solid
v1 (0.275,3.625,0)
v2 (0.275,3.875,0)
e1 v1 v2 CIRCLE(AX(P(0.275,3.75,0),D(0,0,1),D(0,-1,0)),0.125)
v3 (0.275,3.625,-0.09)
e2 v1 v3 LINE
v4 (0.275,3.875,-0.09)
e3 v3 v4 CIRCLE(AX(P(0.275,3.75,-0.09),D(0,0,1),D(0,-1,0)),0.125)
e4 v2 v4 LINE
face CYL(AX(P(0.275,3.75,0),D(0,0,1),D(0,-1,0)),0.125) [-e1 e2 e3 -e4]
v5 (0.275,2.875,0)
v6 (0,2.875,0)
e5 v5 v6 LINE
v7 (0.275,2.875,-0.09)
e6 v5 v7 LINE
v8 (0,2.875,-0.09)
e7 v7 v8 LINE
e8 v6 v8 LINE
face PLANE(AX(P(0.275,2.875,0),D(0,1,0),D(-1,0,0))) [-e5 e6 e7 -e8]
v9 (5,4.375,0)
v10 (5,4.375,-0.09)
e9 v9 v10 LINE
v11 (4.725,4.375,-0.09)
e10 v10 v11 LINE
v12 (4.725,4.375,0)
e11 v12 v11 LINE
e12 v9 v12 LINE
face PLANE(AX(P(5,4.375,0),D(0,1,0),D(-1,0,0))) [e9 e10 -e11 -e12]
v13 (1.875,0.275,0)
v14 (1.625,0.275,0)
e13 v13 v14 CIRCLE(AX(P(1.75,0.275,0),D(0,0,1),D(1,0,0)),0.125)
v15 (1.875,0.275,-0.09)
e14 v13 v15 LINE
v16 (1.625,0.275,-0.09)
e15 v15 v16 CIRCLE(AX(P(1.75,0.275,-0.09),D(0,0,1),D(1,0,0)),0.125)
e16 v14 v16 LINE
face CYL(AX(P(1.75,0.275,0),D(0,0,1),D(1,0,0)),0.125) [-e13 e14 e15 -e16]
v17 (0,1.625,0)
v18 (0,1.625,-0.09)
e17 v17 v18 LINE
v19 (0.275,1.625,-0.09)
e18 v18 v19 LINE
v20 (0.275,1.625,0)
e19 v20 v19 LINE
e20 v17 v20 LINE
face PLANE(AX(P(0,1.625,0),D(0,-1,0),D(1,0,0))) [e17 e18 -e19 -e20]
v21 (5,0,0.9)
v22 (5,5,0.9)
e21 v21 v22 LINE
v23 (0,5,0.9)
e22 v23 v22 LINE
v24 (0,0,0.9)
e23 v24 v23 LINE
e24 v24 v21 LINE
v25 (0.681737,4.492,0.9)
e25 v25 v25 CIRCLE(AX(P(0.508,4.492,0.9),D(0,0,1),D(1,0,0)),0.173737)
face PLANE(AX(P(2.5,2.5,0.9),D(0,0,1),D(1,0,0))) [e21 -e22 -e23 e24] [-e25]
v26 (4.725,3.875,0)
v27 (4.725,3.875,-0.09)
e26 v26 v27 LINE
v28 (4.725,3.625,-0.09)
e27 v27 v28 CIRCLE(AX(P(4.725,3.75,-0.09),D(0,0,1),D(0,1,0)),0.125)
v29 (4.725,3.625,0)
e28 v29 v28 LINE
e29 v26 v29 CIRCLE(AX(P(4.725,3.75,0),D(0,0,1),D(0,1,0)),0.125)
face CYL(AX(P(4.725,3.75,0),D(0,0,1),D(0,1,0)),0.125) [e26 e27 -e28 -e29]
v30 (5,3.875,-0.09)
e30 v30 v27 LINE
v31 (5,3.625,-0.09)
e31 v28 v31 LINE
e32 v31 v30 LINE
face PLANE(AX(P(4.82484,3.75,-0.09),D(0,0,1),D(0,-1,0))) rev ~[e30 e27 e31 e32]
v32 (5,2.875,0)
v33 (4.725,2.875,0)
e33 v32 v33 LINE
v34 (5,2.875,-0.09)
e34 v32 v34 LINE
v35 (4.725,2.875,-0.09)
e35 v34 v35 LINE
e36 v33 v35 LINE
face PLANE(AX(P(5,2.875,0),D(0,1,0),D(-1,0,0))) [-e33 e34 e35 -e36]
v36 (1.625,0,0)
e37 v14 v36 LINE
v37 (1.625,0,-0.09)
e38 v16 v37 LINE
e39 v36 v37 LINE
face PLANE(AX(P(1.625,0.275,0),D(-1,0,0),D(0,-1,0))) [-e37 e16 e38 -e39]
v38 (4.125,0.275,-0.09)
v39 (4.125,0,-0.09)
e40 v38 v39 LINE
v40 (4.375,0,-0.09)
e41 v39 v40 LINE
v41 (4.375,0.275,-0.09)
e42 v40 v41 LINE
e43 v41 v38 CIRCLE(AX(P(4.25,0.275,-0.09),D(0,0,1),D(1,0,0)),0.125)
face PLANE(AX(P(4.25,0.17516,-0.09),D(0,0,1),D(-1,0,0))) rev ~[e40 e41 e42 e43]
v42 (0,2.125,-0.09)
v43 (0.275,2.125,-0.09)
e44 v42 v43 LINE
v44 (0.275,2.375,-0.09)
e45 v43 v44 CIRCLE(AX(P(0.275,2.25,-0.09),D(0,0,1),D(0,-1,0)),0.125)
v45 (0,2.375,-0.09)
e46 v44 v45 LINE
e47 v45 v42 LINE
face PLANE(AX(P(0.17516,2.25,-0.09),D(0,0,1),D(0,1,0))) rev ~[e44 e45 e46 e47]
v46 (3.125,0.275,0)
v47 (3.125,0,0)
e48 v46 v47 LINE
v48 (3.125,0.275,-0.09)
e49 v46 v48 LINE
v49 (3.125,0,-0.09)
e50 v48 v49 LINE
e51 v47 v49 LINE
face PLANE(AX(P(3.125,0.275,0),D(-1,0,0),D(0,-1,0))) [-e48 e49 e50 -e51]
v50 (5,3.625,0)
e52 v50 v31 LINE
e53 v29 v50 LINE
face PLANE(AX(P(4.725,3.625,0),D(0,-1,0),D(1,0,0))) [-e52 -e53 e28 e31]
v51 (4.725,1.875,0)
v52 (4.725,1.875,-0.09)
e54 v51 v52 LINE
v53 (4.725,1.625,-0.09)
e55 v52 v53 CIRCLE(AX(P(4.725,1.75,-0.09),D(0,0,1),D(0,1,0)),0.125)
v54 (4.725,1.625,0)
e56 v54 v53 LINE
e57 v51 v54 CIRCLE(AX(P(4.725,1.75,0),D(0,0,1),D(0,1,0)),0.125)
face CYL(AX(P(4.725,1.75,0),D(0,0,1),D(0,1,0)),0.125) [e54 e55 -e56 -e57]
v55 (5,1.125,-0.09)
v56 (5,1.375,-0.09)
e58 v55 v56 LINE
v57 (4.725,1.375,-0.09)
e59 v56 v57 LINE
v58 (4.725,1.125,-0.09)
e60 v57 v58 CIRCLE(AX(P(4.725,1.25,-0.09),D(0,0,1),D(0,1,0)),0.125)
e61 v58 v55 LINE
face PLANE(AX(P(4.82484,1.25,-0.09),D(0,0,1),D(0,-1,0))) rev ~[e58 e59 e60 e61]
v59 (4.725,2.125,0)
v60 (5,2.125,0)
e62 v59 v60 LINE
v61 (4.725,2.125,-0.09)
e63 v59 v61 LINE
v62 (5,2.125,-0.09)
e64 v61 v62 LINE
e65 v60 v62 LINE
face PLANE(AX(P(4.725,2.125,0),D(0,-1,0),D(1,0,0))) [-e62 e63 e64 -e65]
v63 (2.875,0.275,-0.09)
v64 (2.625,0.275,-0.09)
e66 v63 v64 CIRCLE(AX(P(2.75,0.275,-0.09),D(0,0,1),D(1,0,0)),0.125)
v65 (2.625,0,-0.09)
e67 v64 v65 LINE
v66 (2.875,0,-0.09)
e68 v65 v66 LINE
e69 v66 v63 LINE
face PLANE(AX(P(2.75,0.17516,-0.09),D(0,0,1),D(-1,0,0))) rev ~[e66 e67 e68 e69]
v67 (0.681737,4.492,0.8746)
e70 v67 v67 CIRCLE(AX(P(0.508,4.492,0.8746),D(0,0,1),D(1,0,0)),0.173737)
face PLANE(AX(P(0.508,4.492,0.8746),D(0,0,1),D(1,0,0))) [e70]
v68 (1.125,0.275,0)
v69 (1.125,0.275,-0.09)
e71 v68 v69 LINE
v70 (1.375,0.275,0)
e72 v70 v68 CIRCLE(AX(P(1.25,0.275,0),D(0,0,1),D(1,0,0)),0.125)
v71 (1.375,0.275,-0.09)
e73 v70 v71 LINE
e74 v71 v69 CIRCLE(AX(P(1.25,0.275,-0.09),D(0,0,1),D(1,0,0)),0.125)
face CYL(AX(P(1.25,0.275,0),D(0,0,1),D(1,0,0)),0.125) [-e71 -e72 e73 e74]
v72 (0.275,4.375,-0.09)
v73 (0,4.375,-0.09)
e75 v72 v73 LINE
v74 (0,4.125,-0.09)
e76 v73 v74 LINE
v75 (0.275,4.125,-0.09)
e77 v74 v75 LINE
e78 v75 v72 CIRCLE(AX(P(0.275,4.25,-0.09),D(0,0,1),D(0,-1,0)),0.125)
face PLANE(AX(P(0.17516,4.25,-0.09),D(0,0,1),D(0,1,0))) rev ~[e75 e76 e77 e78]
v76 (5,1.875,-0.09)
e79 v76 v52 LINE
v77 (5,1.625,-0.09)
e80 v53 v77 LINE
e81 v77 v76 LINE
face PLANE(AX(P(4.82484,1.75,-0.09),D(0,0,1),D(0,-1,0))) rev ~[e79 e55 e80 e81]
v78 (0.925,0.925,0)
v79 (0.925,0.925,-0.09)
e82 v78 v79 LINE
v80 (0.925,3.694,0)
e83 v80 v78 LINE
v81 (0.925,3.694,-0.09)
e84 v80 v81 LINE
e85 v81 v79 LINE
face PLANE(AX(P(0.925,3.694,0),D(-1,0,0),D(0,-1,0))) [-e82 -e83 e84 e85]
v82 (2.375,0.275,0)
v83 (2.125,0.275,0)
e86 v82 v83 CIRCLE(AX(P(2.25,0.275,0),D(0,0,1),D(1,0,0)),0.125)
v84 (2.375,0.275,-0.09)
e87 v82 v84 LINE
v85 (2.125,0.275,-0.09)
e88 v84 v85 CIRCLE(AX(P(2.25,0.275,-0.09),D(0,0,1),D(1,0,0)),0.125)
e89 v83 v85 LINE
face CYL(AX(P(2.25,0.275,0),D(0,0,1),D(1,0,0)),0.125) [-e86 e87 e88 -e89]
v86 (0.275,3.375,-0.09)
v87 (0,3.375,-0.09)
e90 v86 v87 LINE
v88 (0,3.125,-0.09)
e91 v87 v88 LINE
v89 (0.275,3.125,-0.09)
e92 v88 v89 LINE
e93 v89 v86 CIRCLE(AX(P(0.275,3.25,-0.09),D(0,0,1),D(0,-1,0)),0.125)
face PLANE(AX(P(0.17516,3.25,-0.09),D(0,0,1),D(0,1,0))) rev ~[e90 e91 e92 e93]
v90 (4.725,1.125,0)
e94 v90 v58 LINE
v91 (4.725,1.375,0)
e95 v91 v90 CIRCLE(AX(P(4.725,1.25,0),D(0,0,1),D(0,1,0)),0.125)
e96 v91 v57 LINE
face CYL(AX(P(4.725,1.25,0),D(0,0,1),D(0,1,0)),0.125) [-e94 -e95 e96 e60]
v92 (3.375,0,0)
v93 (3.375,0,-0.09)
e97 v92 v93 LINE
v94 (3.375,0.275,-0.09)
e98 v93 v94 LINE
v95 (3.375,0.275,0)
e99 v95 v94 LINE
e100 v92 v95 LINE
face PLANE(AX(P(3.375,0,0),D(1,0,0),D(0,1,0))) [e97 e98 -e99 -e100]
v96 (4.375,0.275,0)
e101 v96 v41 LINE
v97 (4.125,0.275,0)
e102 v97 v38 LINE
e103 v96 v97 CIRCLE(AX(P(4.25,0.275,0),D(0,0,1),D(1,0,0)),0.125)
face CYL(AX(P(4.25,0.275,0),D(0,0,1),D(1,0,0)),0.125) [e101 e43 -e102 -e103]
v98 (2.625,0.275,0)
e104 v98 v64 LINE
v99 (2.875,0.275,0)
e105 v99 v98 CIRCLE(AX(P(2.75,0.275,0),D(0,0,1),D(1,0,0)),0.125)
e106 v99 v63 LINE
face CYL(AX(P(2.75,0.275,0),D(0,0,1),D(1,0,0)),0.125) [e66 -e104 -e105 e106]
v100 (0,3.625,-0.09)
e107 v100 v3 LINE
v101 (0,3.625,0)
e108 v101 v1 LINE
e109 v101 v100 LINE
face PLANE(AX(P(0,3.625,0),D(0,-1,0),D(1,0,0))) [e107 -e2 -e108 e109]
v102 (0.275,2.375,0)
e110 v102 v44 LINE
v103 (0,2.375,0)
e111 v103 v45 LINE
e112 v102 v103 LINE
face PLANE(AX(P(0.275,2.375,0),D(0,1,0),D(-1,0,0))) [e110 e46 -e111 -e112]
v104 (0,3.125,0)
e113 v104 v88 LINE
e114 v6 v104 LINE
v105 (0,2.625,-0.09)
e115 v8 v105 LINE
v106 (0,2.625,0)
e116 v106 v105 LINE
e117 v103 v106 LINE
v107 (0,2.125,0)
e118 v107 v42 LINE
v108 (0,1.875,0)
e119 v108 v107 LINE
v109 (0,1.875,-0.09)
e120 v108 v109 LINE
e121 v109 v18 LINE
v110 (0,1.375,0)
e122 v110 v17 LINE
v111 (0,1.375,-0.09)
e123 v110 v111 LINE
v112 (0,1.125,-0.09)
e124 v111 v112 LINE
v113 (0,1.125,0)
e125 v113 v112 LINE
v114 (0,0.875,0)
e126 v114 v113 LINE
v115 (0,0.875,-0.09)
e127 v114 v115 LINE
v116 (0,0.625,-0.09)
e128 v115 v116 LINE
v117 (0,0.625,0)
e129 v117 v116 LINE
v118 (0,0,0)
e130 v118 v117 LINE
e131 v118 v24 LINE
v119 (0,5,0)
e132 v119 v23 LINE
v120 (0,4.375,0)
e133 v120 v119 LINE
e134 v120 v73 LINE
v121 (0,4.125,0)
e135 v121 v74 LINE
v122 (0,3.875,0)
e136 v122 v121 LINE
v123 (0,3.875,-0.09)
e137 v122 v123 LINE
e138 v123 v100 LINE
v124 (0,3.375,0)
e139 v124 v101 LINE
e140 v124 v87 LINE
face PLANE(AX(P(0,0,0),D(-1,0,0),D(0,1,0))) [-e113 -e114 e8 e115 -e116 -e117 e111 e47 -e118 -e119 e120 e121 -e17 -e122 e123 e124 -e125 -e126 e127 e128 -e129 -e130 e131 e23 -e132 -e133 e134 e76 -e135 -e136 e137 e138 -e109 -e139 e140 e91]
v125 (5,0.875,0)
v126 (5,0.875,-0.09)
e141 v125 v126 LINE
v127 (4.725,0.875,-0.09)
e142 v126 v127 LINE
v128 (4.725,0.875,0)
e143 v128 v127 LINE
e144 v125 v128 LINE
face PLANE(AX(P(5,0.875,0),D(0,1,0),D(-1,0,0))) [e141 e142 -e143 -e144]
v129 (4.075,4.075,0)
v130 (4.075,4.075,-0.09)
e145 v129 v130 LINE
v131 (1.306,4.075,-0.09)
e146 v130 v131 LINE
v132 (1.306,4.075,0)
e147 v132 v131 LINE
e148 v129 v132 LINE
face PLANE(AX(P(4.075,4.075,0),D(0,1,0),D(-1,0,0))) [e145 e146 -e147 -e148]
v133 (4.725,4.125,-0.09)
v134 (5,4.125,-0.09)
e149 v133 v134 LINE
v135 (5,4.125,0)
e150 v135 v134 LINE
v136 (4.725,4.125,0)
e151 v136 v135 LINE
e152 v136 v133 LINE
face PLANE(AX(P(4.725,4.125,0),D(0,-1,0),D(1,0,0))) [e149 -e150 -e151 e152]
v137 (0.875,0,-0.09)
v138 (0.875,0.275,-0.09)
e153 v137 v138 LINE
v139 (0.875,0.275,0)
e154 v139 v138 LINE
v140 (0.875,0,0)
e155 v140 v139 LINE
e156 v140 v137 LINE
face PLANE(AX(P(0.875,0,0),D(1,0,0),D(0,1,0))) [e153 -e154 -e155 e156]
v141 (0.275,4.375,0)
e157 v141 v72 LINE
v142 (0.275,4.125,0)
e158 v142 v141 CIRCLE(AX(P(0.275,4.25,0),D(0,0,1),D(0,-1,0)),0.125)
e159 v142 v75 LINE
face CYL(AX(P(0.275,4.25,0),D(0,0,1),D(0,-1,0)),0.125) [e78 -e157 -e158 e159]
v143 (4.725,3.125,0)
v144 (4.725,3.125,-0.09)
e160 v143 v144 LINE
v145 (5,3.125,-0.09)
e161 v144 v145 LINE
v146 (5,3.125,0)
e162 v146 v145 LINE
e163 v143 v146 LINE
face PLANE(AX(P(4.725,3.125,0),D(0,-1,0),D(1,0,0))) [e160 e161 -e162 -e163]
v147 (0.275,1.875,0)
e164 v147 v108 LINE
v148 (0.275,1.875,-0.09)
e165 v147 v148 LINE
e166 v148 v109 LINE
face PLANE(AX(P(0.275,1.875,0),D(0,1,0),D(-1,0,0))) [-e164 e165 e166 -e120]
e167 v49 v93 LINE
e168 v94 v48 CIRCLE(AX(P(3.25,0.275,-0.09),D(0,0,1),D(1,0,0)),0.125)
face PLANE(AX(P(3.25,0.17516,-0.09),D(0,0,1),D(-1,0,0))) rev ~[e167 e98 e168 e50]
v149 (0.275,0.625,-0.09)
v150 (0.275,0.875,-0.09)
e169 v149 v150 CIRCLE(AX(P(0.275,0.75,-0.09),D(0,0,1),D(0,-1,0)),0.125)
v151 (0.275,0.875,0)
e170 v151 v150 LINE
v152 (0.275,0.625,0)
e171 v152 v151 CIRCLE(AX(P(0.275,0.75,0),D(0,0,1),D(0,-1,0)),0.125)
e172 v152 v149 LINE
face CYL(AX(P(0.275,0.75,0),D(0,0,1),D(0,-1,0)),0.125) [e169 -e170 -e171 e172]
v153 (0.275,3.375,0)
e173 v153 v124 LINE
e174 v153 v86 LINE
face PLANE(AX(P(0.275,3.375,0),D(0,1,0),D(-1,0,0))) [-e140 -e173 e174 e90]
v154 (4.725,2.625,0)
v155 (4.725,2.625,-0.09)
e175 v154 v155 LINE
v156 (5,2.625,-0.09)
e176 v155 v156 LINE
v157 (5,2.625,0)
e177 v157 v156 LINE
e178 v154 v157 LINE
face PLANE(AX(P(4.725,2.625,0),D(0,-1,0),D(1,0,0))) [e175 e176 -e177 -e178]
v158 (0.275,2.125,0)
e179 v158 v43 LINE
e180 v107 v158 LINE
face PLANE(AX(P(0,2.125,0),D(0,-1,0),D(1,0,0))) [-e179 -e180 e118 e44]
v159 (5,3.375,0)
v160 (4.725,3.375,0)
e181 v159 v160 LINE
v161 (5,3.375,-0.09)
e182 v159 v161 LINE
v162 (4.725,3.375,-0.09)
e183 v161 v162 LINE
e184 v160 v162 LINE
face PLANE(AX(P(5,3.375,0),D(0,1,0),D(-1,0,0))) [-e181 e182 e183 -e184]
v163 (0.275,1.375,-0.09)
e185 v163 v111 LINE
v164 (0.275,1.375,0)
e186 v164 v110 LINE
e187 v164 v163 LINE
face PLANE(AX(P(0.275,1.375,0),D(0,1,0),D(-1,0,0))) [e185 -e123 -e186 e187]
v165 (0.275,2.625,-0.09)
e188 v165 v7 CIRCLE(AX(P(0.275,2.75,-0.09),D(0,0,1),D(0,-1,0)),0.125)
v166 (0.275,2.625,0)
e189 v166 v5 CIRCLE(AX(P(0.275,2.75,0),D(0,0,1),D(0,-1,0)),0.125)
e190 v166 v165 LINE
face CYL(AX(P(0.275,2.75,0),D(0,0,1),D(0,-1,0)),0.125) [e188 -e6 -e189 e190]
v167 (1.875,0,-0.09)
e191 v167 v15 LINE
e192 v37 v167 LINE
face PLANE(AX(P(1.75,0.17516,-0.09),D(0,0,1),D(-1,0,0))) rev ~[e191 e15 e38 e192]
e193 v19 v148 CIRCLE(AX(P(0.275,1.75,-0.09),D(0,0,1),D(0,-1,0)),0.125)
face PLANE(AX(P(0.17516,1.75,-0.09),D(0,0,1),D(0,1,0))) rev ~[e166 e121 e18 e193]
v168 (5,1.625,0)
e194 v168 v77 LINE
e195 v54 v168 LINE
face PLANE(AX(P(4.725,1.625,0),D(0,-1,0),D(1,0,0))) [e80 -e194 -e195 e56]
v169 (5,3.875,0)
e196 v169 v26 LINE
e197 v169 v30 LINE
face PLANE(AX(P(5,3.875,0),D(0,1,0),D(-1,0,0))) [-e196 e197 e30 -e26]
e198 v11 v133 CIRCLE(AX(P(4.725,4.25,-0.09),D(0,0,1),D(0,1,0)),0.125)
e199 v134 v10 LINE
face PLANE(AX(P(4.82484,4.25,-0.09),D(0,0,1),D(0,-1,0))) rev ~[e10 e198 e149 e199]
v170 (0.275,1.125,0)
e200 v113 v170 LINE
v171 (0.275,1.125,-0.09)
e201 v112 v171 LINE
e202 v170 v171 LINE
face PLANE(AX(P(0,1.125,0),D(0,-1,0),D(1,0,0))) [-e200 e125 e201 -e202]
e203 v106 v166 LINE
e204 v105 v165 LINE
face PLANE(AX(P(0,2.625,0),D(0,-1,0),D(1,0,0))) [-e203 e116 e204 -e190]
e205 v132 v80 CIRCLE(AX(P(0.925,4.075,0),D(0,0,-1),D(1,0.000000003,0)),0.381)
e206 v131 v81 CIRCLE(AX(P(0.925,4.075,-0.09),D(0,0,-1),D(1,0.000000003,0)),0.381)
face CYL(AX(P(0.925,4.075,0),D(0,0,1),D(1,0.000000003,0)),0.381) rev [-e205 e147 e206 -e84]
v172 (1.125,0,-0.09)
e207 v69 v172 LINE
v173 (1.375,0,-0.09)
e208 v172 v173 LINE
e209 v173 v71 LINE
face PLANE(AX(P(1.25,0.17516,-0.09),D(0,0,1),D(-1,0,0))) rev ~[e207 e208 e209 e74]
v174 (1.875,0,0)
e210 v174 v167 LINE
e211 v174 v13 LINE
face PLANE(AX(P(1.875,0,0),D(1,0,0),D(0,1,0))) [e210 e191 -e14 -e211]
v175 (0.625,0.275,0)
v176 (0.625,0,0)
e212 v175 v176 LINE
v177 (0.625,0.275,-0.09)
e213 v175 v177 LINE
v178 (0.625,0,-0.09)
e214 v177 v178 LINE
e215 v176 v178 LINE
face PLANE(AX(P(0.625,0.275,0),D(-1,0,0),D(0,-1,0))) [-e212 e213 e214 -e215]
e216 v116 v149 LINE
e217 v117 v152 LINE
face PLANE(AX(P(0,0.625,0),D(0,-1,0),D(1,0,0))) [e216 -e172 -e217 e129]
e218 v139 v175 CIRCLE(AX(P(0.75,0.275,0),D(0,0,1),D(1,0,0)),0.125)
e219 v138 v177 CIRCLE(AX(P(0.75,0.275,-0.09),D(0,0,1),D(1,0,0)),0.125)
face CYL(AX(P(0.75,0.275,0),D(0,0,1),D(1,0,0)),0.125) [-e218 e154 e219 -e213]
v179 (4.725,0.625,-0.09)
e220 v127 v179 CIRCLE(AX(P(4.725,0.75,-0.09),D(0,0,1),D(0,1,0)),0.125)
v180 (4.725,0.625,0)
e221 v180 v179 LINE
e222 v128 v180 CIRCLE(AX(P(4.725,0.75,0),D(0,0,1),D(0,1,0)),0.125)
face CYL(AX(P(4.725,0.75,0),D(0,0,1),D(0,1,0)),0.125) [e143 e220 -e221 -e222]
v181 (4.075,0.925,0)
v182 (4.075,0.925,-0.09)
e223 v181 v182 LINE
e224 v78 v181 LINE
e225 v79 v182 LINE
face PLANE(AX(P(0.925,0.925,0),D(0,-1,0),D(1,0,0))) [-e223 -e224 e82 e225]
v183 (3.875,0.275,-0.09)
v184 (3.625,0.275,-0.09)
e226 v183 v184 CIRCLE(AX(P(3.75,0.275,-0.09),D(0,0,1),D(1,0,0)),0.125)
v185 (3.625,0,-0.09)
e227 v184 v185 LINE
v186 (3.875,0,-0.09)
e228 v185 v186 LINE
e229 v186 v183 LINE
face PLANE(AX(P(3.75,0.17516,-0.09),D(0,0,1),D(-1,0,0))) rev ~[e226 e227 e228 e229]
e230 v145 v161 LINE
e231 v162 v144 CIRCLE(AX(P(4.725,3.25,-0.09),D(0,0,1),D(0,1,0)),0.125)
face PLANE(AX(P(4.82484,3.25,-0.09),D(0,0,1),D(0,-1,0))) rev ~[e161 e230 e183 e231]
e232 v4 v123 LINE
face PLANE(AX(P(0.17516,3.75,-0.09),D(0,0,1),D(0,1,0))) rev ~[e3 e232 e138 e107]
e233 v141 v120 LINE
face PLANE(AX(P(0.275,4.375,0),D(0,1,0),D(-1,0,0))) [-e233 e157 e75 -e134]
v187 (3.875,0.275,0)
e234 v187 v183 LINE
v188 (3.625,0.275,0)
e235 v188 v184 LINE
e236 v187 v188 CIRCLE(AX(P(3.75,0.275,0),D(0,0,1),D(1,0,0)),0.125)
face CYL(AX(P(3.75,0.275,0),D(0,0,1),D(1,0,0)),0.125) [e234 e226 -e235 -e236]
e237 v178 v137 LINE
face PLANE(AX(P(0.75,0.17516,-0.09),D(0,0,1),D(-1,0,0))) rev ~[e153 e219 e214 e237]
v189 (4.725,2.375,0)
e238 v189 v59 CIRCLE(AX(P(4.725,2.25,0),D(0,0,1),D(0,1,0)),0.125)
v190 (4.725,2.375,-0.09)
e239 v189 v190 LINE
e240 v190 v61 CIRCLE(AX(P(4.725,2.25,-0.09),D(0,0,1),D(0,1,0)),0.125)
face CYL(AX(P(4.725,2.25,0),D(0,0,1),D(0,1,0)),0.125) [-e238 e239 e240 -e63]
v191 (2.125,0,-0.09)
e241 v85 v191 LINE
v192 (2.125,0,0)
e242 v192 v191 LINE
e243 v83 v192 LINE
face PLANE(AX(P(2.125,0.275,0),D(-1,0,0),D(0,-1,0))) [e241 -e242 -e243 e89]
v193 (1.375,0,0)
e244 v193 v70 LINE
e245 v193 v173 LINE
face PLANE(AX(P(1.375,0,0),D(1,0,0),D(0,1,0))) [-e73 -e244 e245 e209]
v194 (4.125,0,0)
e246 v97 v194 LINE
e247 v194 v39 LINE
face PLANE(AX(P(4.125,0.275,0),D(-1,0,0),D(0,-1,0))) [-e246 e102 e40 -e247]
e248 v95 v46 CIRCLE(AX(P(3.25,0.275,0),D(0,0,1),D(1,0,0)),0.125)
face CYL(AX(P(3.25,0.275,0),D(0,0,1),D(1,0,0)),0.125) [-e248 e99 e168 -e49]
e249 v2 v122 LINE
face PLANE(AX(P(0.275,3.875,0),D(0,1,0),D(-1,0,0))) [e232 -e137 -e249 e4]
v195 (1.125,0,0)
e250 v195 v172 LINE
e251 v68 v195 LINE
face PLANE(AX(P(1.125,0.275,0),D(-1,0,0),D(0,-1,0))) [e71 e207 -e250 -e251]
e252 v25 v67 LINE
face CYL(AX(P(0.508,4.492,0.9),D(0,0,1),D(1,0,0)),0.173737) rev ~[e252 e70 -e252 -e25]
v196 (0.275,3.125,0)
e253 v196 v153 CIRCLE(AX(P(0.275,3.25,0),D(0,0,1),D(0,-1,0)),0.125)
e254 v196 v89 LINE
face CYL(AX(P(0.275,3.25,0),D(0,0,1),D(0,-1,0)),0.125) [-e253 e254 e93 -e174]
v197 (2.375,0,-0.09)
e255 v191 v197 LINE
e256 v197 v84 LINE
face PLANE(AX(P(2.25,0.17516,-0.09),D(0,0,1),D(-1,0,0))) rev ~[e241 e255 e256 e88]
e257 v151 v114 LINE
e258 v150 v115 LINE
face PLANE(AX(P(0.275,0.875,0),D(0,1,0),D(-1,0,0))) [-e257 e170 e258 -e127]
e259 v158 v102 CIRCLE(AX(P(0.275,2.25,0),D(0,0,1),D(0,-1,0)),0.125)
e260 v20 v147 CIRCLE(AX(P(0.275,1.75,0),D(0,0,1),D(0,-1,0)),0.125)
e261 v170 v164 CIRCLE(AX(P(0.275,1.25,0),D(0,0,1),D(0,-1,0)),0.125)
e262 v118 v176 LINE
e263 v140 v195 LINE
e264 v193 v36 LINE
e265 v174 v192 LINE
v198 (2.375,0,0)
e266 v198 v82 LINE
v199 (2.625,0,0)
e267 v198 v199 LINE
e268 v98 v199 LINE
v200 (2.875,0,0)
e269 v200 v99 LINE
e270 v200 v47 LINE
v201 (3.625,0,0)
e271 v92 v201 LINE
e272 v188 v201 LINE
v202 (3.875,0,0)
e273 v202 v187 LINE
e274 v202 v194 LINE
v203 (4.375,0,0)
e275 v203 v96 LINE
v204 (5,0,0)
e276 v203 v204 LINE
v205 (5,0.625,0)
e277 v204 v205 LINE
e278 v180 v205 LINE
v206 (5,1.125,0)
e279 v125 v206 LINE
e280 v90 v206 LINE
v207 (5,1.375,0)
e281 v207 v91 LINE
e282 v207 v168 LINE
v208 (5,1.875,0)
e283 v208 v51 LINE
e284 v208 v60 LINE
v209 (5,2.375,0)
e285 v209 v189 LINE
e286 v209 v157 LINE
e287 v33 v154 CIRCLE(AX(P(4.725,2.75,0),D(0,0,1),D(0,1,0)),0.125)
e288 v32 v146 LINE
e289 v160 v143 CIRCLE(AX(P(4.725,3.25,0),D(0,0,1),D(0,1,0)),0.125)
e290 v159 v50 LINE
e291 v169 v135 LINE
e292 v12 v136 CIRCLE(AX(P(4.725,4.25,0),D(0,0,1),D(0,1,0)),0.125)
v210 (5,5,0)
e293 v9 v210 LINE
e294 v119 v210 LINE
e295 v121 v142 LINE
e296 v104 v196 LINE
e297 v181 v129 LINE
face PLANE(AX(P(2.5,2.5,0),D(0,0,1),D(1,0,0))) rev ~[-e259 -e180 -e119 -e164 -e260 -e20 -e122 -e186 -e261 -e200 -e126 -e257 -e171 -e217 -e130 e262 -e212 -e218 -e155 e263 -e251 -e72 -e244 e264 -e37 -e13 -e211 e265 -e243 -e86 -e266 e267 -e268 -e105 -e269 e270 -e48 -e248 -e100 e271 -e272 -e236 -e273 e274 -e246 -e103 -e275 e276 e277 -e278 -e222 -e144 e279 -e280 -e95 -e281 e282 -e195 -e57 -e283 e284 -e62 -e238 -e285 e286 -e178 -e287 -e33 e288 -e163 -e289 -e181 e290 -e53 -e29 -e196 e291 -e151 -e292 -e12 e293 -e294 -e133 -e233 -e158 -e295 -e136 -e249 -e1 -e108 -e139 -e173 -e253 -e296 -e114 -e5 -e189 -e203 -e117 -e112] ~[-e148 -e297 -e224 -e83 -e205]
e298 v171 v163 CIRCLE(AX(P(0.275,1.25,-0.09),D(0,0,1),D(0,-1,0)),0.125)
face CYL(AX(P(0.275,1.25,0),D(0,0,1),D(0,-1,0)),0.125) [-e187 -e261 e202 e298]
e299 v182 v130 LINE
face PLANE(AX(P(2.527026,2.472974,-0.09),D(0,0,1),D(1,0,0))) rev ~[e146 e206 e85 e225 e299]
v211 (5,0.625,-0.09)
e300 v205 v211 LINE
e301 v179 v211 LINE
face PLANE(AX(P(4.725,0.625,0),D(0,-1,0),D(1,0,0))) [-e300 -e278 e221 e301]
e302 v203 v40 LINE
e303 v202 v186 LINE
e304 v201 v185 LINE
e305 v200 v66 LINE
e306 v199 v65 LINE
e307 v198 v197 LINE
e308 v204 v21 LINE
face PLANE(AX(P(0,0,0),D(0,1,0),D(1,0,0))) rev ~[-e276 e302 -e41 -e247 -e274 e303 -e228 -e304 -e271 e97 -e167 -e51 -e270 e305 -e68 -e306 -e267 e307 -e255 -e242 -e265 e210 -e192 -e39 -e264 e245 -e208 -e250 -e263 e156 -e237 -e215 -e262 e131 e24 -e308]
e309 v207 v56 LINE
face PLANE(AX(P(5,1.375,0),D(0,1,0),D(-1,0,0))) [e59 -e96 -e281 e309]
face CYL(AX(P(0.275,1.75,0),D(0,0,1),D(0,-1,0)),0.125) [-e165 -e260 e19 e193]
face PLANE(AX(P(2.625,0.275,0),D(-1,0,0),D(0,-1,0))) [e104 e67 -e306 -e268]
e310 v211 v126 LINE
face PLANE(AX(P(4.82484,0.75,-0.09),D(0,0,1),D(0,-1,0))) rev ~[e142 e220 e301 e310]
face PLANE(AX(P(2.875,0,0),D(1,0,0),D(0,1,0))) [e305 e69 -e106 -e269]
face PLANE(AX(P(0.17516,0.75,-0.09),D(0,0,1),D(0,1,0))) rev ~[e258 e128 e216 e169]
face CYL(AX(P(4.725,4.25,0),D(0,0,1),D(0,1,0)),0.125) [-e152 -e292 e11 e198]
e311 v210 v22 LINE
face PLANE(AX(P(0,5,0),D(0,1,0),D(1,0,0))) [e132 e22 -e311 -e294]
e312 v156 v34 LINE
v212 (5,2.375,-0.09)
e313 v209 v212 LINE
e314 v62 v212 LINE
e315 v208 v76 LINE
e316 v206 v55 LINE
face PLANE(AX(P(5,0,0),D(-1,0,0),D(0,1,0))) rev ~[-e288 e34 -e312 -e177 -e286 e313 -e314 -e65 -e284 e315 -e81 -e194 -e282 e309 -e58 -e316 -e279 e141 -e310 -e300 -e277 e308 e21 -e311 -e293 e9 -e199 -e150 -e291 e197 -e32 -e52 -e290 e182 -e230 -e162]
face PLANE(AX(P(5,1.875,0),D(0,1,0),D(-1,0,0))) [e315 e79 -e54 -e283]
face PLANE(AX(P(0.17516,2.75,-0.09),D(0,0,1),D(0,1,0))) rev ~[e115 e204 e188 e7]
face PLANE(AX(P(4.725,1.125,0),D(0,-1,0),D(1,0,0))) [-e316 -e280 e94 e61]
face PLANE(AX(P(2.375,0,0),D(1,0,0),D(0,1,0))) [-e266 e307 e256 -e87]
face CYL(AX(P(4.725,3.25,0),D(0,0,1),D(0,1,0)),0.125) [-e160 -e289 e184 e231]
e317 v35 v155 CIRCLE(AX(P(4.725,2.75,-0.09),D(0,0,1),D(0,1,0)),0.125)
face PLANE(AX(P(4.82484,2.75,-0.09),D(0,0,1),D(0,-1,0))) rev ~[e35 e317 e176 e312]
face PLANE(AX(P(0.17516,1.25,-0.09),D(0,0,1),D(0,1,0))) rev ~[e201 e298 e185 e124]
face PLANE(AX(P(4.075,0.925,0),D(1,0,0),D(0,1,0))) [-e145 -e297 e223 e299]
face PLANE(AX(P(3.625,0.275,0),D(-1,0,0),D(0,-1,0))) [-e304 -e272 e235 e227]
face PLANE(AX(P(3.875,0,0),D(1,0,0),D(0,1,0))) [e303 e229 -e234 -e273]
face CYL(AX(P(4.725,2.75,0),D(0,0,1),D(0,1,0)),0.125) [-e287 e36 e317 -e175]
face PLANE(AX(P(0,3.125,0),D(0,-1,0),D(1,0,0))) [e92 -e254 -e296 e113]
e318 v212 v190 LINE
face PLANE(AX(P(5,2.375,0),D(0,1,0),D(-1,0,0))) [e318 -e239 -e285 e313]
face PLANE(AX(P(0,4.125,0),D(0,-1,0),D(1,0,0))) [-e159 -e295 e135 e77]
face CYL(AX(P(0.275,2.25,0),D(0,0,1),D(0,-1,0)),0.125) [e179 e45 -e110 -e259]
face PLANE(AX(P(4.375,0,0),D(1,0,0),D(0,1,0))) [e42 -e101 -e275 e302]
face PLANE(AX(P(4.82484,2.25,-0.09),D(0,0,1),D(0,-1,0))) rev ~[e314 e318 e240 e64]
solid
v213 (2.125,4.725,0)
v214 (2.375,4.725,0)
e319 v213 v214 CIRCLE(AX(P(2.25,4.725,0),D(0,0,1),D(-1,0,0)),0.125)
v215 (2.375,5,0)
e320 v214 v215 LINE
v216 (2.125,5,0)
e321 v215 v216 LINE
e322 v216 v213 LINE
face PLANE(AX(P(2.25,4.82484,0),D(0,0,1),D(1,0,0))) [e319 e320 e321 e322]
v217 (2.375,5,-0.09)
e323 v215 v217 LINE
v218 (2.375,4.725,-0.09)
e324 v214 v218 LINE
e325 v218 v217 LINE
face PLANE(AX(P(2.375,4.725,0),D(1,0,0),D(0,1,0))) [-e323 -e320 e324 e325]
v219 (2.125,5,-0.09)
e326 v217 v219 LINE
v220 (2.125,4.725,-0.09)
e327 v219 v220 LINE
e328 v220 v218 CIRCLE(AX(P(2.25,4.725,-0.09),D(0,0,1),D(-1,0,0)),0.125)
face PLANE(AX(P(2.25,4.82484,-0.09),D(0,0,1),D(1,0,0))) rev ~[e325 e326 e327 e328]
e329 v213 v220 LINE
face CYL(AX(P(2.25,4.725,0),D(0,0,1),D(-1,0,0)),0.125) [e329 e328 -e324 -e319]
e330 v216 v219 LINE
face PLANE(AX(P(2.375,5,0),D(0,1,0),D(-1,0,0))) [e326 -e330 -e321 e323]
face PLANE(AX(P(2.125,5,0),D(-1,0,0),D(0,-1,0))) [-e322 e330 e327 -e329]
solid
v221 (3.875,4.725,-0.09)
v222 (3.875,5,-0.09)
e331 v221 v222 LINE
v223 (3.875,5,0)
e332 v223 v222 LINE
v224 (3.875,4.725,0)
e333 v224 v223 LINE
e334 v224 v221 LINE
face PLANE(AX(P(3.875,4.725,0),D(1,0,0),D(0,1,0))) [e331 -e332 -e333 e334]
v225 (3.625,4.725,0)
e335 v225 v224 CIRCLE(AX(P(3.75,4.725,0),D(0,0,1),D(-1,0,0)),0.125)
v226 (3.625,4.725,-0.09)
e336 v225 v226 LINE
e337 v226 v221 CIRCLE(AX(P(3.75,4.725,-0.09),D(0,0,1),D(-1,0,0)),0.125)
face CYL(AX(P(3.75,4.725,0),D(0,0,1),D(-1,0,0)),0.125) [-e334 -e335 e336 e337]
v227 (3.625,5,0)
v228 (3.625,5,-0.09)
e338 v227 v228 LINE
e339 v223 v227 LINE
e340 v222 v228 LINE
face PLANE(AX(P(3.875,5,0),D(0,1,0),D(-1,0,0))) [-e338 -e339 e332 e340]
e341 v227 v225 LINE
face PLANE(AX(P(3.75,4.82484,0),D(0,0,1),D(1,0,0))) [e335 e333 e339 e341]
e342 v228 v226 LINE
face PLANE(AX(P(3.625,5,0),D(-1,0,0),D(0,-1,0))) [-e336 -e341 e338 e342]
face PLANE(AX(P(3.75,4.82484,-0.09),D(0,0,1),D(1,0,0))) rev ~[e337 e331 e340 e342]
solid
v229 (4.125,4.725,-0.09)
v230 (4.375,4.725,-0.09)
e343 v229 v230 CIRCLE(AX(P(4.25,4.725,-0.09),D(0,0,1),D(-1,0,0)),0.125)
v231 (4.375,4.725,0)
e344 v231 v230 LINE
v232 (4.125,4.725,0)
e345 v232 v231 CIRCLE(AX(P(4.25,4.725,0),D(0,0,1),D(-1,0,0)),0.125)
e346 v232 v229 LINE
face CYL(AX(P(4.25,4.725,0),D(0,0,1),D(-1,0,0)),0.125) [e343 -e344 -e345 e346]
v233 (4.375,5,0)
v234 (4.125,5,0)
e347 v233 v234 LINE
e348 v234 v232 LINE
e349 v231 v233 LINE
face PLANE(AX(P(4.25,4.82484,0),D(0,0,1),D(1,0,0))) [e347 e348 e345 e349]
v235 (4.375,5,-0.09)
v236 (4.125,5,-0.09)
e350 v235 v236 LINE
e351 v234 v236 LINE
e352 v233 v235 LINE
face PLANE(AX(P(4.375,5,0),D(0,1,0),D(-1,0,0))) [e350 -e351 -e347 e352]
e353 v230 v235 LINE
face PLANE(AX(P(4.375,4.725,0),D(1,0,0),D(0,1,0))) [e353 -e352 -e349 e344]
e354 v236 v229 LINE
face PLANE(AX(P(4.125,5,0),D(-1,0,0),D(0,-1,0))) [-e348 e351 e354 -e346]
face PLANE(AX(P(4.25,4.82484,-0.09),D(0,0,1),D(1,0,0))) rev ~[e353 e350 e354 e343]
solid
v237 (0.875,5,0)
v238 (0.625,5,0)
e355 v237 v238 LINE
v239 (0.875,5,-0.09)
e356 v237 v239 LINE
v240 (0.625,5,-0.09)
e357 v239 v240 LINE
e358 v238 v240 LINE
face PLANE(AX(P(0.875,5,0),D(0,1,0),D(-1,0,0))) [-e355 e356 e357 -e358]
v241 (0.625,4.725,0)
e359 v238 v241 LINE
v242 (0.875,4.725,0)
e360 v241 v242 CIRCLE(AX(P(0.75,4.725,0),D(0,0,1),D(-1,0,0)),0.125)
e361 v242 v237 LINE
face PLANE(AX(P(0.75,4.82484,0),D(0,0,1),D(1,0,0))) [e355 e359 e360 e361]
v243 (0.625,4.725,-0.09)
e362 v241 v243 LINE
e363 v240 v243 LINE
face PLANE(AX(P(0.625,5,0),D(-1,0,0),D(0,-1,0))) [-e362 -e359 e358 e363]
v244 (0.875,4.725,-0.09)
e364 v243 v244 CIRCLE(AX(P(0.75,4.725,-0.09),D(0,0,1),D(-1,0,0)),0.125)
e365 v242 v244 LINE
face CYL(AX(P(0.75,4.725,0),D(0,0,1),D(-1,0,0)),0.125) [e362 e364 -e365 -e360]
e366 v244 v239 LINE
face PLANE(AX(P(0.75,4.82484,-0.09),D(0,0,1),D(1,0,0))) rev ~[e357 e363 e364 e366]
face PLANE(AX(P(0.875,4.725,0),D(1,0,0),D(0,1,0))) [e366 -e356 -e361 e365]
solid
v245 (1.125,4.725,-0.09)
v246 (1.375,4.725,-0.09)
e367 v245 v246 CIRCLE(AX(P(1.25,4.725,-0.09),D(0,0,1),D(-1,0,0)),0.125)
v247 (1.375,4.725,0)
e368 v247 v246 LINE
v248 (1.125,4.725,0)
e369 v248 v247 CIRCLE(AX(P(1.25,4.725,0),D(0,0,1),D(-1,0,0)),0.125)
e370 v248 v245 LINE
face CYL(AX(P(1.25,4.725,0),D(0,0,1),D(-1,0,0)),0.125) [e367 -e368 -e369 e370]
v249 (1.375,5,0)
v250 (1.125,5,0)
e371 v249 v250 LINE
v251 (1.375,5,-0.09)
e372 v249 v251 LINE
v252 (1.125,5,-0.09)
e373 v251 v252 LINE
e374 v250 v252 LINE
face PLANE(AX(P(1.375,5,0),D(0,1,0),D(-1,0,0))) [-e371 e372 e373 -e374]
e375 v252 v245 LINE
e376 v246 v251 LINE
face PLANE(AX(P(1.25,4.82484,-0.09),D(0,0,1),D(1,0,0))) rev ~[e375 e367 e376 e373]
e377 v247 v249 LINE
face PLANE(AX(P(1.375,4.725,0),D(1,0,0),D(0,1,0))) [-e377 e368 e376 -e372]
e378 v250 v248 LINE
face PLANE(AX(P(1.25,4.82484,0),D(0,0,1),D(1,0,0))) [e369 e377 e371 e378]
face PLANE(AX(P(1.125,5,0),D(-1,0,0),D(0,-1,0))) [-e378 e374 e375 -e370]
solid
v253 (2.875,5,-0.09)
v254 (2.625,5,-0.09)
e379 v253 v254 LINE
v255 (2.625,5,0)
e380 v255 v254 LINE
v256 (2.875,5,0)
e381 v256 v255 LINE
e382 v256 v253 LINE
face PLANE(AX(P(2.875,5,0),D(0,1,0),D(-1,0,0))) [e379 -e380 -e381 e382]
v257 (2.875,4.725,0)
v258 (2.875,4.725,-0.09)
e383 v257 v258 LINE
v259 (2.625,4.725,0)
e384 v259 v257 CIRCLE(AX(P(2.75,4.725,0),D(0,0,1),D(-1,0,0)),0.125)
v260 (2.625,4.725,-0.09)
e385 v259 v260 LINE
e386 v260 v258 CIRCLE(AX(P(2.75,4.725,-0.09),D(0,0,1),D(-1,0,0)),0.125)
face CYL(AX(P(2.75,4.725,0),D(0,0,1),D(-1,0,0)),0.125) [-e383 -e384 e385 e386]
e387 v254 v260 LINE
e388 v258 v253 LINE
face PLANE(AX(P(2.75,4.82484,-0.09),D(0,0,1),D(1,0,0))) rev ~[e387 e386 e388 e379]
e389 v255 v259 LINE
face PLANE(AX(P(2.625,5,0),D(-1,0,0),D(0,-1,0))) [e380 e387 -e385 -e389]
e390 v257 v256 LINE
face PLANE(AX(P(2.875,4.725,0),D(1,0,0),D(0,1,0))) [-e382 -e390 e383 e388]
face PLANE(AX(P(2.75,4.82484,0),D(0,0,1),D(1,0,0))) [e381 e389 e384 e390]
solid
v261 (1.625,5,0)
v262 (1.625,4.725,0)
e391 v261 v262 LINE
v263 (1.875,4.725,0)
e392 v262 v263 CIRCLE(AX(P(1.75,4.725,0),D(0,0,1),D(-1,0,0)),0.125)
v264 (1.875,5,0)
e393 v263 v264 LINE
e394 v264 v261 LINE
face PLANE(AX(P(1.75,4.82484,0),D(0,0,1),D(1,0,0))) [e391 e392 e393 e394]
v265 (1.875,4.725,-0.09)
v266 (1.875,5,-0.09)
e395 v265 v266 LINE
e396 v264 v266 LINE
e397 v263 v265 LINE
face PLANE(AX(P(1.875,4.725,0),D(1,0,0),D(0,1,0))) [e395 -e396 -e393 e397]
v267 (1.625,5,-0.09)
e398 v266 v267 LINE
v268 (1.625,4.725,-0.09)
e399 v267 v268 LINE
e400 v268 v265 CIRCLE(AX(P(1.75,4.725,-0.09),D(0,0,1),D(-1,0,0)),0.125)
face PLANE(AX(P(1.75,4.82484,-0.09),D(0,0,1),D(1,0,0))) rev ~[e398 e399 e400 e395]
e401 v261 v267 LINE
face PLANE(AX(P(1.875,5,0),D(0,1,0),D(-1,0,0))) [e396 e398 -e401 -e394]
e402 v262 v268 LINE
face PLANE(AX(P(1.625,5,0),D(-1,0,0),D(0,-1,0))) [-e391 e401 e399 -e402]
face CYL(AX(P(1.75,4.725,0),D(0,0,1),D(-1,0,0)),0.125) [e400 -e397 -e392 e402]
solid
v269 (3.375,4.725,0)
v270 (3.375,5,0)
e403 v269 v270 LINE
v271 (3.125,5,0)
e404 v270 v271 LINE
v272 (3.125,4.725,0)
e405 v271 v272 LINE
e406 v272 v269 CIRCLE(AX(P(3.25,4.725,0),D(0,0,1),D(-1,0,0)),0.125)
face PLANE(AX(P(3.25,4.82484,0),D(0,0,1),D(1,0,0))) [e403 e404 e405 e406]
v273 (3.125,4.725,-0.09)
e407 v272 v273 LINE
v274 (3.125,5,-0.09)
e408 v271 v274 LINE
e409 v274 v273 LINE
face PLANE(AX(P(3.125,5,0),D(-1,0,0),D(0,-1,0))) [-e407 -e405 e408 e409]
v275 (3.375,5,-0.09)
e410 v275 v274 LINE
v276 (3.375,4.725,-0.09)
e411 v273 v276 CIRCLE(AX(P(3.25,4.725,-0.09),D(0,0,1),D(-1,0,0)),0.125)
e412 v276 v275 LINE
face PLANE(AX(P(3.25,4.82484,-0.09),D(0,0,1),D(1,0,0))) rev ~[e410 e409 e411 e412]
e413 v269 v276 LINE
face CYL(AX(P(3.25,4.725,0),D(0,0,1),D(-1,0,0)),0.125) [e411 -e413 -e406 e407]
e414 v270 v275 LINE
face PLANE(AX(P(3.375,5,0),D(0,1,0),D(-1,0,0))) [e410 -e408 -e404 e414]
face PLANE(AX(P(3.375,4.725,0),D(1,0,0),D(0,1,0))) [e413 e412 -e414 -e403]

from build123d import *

# Parameters (mm, degrees)
SKETCH1_W             = 5
SKETCH1_H             = 5
BOSS_EXTRUDE1_DEPTH   = 0.9
BOSS_EXTRUDE3_DEPTH   = 0.09
BOSS_EXTRUDE3_2_DEPTH = 0.09
BOSS_EXTRUDE3_3_DEPTH = 0.09
BOSS_EXTRUDE3_4_DEPTH = 0.09
BOSS_EXTRUDE3_5_DEPTH = 0.09
BOSS_EXTRUDE3_6_DEPTH = 0.09
BOSS_EXTRUDE3_7_DEPTH = 0.09
BOSS_EXTRUDE3_8_DEPTH = 0.09
CIRPATTERN1_COUNT     = 4
SKETCH4_R             = 0.173736533
CUT_EXTRUDE1_DEPTH    = 0.0254
BOSS_EXTRUDE5_DEPTH   = 0.09


with BuildPart() as part:
    # Sketch1 → Boss-Extrude1 (new body)
    with BuildSketch(Plane.XY):
        with Locations((2.5, 2.5)):
            Rectangle(SKETCH1_W, SKETCH1_H)
    extrude(amount=BOSS_EXTRUDE1_DEPTH)


with BuildPart() as body_2:
    # Sketch2 → Boss-Extrude3 (new body)
    with BuildSketch(Plane(origin=(0, 0, 0), x_dir=(-1, 0, 0), z_dir=(0, 0, -1))):
        with BuildLine():
            Line((-0.875, 5), (-0.625, 5))
            Line((-0.625, 5), (-0.625, 4.725))
            ThreePointArc((-0.625, 4.725), (-0.75, 4.6), (-0.875, 4.725))
            Line((-0.875, 4.725), (-0.875, 5))
        make_face()
    boss_extrude3 = extrude(amount=BOSS_EXTRUDE3_DEPTH)


with BuildPart() as body_3:
    # Sketch2 → Boss-Extrude3 2 (new body)
    with BuildSketch(Plane(origin=(0, 0, 0), x_dir=(-1, 0, 0), z_dir=(0, 0, -1))):
        with BuildLine():
            Line((-1.375, 5), (-1.125, 5))
            Line((-1.125, 5), (-1.125, 4.725))
            ThreePointArc((-1.125, 4.725), (-1.25, 4.6), (-1.375, 4.725))
            Line((-1.375, 4.725), (-1.375, 5))
        make_face()
    boss_extrude3_2 = extrude(amount=BOSS_EXTRUDE3_2_DEPTH)


with BuildPart() as body_4:
    # Sketch2 → Boss-Extrude3 3 (new body)
    with BuildSketch(Plane(origin=(0, 0, 0), x_dir=(-1, 0, 0), z_dir=(0, 0, -1))):
        with BuildLine():
            Line((-1.875, 5), (-1.625, 5))
            Line((-1.625, 5), (-1.625, 4.725))
            ThreePointArc((-1.625, 4.725), (-1.75, 4.6), (-1.875, 4.725))
            Line((-1.875, 4.725), (-1.875, 5))
        make_face()
    boss_extrude3_3 = extrude(amount=BOSS_EXTRUDE3_3_DEPTH)


with BuildPart() as body_5:
    # Sketch2 → Boss-Extrude3 4 (new body)
    with BuildSketch(Plane(origin=(0, 0, 0), x_dir=(-1, 0, 0), z_dir=(0, 0, -1))):
        with BuildLine():
            Line((-2.875, 5), (-2.625, 5))
            Line((-2.625, 5), (-2.625, 4.725))
            ThreePointArc((-2.625, 4.725), (-2.75, 4.6), (-2.875, 4.725))
            Line((-2.875, 4.725), (-2.875, 5))
        make_face()
    boss_extrude3_4 = extrude(amount=BOSS_EXTRUDE3_4_DEPTH)


with BuildPart() as body_6:
    # Sketch2 → Boss-Extrude3 5 (new body)
    with BuildSketch(Plane(origin=(0, 0, 0), x_dir=(-1, 0, 0), z_dir=(0, 0, -1))):
        with BuildLine():
            Line((-2.375, 5), (-2.125, 5))
            Line((-2.125, 5), (-2.125, 4.725))
            ThreePointArc((-2.125, 4.725), (-2.25, 4.6), (-2.375, 4.725))
            Line((-2.375, 4.725), (-2.375, 5))
        make_face()
    boss_extrude3_5 = extrude(amount=BOSS_EXTRUDE3_5_DEPTH)


with BuildPart() as body_7:
    # Sketch2 → Boss-Extrude3 6 (new body)
    with BuildSketch(Plane(origin=(0, 0, 0), x_dir=(-1, 0, 0), z_dir=(0, 0, -1))):
        with BuildLine():
            Line((-3.375, 5), (-3.125, 5))
            Line((-3.125, 5), (-3.125, 4.725))
            ThreePointArc((-3.125, 4.725), (-3.25, 4.6), (-3.375, 4.725))
            Line((-3.375, 4.725), (-3.375, 5))
        make_face()
    boss_extrude3_6 = extrude(amount=BOSS_EXTRUDE3_6_DEPTH)


with BuildPart() as body_8:
    # Sketch2 → Boss-Extrude3 7 (new body)
    with BuildSketch(Plane(origin=(0, 0, 0), x_dir=(-1, 0, 0), z_dir=(0, 0, -1))):
        with BuildLine():
            Line((-3.875, 5), (-3.625, 5))
            Line((-3.625, 5), (-3.625, 4.725))
            ThreePointArc((-3.625, 4.725), (-3.75, 4.6), (-3.875, 4.725))
            Line((-3.875, 4.725), (-3.875, 5))
        make_face()
    boss_extrude3_7 = extrude(amount=BOSS_EXTRUDE3_7_DEPTH)


with BuildPart() as body_9:
    # Sketch2 → Boss-Extrude3 8 (new body)
    with BuildSketch(Plane(origin=(0, 0, 0), x_dir=(-1, 0, 0), z_dir=(0, 0, -1))):
        with BuildLine():
            Line((-4.375, 5), (-4.125, 5))
            Line((-4.125, 5), (-4.125, 4.725))
            ThreePointArc((-4.125, 4.725), (-4.25, 4.6), (-4.375, 4.725))
            Line((-4.375, 4.725), (-4.375, 5))
        make_face()
    boss_extrude3_8 = extrude(amount=BOSS_EXTRUDE3_8_DEPTH)


with BuildPart() as part_1:
    add(part.part)

    # CirPattern1: Boss-Extrude3, Boss-Extrude3 2, Boss-Extrude3 3, Boss-Extrude3 4, Boss-Extrude3 5, Boss-Extrude3 6, Boss-Extrude3 7, Boss-Extrude3 8 ×4 about axis
    cirpattern1_axis = Axis((2.5, 2.5, 0), (0, 0, 1))
    for i in range(1, CIRPATTERN1_COUNT):
        add(boss_extrude3.rotate(cirpattern1_axis, i * 360 / CIRPATTERN1_COUNT))
        add(boss_extrude3_2.rotate(cirpattern1_axis, i * 360 / CIRPATTERN1_COUNT))
        add(boss_extrude3_3.rotate(cirpattern1_axis, i * 360 / CIRPATTERN1_COUNT))
        add(boss_extrude3_4.rotate(cirpattern1_axis, i * 360 / CIRPATTERN1_COUNT))
        add(boss_extrude3_5.rotate(cirpattern1_axis, i * 360 / CIRPATTERN1_COUNT))
        add(boss_extrude3_6.rotate(cirpattern1_axis, i * 360 / CIRPATTERN1_COUNT))
        add(boss_extrude3_7.rotate(cirpattern1_axis, i * 360 / CIRPATTERN1_COUNT))
        add(boss_extrude3_8.rotate(cirpattern1_axis, i * 360 / CIRPATTERN1_COUNT))

    # Sketch4 → Cut-Extrude1 (cut)
    with BuildSketch(Plane.XY.offset(0.9)):
        with Locations((0.508, 4.492)):
            Circle(SKETCH4_R)
    extrude(amount=-CUT_EXTRUDE1_DEPTH, mode=Mode.SUBTRACT)

    # Sketch5 → Boss-Extrude5 (add)
    with BuildSketch(Plane(origin=(0, 0, 0), x_dir=(-1, 0, 0), z_dir=(0, 0, -1))):
        with BuildLine():
            Line((-4.075, 4.075), (-1.306, 4.075))
            ThreePointArc((-1.306, 4.075), (-1.194407684, 3.805592316), (-0.925, 3.694))
            Line((-0.925, 3.694), (-0.925, 0.925))
            Line((-0.925, 0.925), (-4.075, 0.925))
            Line((-4.075, 0.925), (-4.075, 4.075))
        make_face()
    extrude(amount=BOSS_EXTRUDE5_DEPTH)


solid = Compound([body_2.part, body_3.part, body_4.part, body_5.part, body_6.part, body_7.part, body_8.part, body_9.part, part_1.part])
